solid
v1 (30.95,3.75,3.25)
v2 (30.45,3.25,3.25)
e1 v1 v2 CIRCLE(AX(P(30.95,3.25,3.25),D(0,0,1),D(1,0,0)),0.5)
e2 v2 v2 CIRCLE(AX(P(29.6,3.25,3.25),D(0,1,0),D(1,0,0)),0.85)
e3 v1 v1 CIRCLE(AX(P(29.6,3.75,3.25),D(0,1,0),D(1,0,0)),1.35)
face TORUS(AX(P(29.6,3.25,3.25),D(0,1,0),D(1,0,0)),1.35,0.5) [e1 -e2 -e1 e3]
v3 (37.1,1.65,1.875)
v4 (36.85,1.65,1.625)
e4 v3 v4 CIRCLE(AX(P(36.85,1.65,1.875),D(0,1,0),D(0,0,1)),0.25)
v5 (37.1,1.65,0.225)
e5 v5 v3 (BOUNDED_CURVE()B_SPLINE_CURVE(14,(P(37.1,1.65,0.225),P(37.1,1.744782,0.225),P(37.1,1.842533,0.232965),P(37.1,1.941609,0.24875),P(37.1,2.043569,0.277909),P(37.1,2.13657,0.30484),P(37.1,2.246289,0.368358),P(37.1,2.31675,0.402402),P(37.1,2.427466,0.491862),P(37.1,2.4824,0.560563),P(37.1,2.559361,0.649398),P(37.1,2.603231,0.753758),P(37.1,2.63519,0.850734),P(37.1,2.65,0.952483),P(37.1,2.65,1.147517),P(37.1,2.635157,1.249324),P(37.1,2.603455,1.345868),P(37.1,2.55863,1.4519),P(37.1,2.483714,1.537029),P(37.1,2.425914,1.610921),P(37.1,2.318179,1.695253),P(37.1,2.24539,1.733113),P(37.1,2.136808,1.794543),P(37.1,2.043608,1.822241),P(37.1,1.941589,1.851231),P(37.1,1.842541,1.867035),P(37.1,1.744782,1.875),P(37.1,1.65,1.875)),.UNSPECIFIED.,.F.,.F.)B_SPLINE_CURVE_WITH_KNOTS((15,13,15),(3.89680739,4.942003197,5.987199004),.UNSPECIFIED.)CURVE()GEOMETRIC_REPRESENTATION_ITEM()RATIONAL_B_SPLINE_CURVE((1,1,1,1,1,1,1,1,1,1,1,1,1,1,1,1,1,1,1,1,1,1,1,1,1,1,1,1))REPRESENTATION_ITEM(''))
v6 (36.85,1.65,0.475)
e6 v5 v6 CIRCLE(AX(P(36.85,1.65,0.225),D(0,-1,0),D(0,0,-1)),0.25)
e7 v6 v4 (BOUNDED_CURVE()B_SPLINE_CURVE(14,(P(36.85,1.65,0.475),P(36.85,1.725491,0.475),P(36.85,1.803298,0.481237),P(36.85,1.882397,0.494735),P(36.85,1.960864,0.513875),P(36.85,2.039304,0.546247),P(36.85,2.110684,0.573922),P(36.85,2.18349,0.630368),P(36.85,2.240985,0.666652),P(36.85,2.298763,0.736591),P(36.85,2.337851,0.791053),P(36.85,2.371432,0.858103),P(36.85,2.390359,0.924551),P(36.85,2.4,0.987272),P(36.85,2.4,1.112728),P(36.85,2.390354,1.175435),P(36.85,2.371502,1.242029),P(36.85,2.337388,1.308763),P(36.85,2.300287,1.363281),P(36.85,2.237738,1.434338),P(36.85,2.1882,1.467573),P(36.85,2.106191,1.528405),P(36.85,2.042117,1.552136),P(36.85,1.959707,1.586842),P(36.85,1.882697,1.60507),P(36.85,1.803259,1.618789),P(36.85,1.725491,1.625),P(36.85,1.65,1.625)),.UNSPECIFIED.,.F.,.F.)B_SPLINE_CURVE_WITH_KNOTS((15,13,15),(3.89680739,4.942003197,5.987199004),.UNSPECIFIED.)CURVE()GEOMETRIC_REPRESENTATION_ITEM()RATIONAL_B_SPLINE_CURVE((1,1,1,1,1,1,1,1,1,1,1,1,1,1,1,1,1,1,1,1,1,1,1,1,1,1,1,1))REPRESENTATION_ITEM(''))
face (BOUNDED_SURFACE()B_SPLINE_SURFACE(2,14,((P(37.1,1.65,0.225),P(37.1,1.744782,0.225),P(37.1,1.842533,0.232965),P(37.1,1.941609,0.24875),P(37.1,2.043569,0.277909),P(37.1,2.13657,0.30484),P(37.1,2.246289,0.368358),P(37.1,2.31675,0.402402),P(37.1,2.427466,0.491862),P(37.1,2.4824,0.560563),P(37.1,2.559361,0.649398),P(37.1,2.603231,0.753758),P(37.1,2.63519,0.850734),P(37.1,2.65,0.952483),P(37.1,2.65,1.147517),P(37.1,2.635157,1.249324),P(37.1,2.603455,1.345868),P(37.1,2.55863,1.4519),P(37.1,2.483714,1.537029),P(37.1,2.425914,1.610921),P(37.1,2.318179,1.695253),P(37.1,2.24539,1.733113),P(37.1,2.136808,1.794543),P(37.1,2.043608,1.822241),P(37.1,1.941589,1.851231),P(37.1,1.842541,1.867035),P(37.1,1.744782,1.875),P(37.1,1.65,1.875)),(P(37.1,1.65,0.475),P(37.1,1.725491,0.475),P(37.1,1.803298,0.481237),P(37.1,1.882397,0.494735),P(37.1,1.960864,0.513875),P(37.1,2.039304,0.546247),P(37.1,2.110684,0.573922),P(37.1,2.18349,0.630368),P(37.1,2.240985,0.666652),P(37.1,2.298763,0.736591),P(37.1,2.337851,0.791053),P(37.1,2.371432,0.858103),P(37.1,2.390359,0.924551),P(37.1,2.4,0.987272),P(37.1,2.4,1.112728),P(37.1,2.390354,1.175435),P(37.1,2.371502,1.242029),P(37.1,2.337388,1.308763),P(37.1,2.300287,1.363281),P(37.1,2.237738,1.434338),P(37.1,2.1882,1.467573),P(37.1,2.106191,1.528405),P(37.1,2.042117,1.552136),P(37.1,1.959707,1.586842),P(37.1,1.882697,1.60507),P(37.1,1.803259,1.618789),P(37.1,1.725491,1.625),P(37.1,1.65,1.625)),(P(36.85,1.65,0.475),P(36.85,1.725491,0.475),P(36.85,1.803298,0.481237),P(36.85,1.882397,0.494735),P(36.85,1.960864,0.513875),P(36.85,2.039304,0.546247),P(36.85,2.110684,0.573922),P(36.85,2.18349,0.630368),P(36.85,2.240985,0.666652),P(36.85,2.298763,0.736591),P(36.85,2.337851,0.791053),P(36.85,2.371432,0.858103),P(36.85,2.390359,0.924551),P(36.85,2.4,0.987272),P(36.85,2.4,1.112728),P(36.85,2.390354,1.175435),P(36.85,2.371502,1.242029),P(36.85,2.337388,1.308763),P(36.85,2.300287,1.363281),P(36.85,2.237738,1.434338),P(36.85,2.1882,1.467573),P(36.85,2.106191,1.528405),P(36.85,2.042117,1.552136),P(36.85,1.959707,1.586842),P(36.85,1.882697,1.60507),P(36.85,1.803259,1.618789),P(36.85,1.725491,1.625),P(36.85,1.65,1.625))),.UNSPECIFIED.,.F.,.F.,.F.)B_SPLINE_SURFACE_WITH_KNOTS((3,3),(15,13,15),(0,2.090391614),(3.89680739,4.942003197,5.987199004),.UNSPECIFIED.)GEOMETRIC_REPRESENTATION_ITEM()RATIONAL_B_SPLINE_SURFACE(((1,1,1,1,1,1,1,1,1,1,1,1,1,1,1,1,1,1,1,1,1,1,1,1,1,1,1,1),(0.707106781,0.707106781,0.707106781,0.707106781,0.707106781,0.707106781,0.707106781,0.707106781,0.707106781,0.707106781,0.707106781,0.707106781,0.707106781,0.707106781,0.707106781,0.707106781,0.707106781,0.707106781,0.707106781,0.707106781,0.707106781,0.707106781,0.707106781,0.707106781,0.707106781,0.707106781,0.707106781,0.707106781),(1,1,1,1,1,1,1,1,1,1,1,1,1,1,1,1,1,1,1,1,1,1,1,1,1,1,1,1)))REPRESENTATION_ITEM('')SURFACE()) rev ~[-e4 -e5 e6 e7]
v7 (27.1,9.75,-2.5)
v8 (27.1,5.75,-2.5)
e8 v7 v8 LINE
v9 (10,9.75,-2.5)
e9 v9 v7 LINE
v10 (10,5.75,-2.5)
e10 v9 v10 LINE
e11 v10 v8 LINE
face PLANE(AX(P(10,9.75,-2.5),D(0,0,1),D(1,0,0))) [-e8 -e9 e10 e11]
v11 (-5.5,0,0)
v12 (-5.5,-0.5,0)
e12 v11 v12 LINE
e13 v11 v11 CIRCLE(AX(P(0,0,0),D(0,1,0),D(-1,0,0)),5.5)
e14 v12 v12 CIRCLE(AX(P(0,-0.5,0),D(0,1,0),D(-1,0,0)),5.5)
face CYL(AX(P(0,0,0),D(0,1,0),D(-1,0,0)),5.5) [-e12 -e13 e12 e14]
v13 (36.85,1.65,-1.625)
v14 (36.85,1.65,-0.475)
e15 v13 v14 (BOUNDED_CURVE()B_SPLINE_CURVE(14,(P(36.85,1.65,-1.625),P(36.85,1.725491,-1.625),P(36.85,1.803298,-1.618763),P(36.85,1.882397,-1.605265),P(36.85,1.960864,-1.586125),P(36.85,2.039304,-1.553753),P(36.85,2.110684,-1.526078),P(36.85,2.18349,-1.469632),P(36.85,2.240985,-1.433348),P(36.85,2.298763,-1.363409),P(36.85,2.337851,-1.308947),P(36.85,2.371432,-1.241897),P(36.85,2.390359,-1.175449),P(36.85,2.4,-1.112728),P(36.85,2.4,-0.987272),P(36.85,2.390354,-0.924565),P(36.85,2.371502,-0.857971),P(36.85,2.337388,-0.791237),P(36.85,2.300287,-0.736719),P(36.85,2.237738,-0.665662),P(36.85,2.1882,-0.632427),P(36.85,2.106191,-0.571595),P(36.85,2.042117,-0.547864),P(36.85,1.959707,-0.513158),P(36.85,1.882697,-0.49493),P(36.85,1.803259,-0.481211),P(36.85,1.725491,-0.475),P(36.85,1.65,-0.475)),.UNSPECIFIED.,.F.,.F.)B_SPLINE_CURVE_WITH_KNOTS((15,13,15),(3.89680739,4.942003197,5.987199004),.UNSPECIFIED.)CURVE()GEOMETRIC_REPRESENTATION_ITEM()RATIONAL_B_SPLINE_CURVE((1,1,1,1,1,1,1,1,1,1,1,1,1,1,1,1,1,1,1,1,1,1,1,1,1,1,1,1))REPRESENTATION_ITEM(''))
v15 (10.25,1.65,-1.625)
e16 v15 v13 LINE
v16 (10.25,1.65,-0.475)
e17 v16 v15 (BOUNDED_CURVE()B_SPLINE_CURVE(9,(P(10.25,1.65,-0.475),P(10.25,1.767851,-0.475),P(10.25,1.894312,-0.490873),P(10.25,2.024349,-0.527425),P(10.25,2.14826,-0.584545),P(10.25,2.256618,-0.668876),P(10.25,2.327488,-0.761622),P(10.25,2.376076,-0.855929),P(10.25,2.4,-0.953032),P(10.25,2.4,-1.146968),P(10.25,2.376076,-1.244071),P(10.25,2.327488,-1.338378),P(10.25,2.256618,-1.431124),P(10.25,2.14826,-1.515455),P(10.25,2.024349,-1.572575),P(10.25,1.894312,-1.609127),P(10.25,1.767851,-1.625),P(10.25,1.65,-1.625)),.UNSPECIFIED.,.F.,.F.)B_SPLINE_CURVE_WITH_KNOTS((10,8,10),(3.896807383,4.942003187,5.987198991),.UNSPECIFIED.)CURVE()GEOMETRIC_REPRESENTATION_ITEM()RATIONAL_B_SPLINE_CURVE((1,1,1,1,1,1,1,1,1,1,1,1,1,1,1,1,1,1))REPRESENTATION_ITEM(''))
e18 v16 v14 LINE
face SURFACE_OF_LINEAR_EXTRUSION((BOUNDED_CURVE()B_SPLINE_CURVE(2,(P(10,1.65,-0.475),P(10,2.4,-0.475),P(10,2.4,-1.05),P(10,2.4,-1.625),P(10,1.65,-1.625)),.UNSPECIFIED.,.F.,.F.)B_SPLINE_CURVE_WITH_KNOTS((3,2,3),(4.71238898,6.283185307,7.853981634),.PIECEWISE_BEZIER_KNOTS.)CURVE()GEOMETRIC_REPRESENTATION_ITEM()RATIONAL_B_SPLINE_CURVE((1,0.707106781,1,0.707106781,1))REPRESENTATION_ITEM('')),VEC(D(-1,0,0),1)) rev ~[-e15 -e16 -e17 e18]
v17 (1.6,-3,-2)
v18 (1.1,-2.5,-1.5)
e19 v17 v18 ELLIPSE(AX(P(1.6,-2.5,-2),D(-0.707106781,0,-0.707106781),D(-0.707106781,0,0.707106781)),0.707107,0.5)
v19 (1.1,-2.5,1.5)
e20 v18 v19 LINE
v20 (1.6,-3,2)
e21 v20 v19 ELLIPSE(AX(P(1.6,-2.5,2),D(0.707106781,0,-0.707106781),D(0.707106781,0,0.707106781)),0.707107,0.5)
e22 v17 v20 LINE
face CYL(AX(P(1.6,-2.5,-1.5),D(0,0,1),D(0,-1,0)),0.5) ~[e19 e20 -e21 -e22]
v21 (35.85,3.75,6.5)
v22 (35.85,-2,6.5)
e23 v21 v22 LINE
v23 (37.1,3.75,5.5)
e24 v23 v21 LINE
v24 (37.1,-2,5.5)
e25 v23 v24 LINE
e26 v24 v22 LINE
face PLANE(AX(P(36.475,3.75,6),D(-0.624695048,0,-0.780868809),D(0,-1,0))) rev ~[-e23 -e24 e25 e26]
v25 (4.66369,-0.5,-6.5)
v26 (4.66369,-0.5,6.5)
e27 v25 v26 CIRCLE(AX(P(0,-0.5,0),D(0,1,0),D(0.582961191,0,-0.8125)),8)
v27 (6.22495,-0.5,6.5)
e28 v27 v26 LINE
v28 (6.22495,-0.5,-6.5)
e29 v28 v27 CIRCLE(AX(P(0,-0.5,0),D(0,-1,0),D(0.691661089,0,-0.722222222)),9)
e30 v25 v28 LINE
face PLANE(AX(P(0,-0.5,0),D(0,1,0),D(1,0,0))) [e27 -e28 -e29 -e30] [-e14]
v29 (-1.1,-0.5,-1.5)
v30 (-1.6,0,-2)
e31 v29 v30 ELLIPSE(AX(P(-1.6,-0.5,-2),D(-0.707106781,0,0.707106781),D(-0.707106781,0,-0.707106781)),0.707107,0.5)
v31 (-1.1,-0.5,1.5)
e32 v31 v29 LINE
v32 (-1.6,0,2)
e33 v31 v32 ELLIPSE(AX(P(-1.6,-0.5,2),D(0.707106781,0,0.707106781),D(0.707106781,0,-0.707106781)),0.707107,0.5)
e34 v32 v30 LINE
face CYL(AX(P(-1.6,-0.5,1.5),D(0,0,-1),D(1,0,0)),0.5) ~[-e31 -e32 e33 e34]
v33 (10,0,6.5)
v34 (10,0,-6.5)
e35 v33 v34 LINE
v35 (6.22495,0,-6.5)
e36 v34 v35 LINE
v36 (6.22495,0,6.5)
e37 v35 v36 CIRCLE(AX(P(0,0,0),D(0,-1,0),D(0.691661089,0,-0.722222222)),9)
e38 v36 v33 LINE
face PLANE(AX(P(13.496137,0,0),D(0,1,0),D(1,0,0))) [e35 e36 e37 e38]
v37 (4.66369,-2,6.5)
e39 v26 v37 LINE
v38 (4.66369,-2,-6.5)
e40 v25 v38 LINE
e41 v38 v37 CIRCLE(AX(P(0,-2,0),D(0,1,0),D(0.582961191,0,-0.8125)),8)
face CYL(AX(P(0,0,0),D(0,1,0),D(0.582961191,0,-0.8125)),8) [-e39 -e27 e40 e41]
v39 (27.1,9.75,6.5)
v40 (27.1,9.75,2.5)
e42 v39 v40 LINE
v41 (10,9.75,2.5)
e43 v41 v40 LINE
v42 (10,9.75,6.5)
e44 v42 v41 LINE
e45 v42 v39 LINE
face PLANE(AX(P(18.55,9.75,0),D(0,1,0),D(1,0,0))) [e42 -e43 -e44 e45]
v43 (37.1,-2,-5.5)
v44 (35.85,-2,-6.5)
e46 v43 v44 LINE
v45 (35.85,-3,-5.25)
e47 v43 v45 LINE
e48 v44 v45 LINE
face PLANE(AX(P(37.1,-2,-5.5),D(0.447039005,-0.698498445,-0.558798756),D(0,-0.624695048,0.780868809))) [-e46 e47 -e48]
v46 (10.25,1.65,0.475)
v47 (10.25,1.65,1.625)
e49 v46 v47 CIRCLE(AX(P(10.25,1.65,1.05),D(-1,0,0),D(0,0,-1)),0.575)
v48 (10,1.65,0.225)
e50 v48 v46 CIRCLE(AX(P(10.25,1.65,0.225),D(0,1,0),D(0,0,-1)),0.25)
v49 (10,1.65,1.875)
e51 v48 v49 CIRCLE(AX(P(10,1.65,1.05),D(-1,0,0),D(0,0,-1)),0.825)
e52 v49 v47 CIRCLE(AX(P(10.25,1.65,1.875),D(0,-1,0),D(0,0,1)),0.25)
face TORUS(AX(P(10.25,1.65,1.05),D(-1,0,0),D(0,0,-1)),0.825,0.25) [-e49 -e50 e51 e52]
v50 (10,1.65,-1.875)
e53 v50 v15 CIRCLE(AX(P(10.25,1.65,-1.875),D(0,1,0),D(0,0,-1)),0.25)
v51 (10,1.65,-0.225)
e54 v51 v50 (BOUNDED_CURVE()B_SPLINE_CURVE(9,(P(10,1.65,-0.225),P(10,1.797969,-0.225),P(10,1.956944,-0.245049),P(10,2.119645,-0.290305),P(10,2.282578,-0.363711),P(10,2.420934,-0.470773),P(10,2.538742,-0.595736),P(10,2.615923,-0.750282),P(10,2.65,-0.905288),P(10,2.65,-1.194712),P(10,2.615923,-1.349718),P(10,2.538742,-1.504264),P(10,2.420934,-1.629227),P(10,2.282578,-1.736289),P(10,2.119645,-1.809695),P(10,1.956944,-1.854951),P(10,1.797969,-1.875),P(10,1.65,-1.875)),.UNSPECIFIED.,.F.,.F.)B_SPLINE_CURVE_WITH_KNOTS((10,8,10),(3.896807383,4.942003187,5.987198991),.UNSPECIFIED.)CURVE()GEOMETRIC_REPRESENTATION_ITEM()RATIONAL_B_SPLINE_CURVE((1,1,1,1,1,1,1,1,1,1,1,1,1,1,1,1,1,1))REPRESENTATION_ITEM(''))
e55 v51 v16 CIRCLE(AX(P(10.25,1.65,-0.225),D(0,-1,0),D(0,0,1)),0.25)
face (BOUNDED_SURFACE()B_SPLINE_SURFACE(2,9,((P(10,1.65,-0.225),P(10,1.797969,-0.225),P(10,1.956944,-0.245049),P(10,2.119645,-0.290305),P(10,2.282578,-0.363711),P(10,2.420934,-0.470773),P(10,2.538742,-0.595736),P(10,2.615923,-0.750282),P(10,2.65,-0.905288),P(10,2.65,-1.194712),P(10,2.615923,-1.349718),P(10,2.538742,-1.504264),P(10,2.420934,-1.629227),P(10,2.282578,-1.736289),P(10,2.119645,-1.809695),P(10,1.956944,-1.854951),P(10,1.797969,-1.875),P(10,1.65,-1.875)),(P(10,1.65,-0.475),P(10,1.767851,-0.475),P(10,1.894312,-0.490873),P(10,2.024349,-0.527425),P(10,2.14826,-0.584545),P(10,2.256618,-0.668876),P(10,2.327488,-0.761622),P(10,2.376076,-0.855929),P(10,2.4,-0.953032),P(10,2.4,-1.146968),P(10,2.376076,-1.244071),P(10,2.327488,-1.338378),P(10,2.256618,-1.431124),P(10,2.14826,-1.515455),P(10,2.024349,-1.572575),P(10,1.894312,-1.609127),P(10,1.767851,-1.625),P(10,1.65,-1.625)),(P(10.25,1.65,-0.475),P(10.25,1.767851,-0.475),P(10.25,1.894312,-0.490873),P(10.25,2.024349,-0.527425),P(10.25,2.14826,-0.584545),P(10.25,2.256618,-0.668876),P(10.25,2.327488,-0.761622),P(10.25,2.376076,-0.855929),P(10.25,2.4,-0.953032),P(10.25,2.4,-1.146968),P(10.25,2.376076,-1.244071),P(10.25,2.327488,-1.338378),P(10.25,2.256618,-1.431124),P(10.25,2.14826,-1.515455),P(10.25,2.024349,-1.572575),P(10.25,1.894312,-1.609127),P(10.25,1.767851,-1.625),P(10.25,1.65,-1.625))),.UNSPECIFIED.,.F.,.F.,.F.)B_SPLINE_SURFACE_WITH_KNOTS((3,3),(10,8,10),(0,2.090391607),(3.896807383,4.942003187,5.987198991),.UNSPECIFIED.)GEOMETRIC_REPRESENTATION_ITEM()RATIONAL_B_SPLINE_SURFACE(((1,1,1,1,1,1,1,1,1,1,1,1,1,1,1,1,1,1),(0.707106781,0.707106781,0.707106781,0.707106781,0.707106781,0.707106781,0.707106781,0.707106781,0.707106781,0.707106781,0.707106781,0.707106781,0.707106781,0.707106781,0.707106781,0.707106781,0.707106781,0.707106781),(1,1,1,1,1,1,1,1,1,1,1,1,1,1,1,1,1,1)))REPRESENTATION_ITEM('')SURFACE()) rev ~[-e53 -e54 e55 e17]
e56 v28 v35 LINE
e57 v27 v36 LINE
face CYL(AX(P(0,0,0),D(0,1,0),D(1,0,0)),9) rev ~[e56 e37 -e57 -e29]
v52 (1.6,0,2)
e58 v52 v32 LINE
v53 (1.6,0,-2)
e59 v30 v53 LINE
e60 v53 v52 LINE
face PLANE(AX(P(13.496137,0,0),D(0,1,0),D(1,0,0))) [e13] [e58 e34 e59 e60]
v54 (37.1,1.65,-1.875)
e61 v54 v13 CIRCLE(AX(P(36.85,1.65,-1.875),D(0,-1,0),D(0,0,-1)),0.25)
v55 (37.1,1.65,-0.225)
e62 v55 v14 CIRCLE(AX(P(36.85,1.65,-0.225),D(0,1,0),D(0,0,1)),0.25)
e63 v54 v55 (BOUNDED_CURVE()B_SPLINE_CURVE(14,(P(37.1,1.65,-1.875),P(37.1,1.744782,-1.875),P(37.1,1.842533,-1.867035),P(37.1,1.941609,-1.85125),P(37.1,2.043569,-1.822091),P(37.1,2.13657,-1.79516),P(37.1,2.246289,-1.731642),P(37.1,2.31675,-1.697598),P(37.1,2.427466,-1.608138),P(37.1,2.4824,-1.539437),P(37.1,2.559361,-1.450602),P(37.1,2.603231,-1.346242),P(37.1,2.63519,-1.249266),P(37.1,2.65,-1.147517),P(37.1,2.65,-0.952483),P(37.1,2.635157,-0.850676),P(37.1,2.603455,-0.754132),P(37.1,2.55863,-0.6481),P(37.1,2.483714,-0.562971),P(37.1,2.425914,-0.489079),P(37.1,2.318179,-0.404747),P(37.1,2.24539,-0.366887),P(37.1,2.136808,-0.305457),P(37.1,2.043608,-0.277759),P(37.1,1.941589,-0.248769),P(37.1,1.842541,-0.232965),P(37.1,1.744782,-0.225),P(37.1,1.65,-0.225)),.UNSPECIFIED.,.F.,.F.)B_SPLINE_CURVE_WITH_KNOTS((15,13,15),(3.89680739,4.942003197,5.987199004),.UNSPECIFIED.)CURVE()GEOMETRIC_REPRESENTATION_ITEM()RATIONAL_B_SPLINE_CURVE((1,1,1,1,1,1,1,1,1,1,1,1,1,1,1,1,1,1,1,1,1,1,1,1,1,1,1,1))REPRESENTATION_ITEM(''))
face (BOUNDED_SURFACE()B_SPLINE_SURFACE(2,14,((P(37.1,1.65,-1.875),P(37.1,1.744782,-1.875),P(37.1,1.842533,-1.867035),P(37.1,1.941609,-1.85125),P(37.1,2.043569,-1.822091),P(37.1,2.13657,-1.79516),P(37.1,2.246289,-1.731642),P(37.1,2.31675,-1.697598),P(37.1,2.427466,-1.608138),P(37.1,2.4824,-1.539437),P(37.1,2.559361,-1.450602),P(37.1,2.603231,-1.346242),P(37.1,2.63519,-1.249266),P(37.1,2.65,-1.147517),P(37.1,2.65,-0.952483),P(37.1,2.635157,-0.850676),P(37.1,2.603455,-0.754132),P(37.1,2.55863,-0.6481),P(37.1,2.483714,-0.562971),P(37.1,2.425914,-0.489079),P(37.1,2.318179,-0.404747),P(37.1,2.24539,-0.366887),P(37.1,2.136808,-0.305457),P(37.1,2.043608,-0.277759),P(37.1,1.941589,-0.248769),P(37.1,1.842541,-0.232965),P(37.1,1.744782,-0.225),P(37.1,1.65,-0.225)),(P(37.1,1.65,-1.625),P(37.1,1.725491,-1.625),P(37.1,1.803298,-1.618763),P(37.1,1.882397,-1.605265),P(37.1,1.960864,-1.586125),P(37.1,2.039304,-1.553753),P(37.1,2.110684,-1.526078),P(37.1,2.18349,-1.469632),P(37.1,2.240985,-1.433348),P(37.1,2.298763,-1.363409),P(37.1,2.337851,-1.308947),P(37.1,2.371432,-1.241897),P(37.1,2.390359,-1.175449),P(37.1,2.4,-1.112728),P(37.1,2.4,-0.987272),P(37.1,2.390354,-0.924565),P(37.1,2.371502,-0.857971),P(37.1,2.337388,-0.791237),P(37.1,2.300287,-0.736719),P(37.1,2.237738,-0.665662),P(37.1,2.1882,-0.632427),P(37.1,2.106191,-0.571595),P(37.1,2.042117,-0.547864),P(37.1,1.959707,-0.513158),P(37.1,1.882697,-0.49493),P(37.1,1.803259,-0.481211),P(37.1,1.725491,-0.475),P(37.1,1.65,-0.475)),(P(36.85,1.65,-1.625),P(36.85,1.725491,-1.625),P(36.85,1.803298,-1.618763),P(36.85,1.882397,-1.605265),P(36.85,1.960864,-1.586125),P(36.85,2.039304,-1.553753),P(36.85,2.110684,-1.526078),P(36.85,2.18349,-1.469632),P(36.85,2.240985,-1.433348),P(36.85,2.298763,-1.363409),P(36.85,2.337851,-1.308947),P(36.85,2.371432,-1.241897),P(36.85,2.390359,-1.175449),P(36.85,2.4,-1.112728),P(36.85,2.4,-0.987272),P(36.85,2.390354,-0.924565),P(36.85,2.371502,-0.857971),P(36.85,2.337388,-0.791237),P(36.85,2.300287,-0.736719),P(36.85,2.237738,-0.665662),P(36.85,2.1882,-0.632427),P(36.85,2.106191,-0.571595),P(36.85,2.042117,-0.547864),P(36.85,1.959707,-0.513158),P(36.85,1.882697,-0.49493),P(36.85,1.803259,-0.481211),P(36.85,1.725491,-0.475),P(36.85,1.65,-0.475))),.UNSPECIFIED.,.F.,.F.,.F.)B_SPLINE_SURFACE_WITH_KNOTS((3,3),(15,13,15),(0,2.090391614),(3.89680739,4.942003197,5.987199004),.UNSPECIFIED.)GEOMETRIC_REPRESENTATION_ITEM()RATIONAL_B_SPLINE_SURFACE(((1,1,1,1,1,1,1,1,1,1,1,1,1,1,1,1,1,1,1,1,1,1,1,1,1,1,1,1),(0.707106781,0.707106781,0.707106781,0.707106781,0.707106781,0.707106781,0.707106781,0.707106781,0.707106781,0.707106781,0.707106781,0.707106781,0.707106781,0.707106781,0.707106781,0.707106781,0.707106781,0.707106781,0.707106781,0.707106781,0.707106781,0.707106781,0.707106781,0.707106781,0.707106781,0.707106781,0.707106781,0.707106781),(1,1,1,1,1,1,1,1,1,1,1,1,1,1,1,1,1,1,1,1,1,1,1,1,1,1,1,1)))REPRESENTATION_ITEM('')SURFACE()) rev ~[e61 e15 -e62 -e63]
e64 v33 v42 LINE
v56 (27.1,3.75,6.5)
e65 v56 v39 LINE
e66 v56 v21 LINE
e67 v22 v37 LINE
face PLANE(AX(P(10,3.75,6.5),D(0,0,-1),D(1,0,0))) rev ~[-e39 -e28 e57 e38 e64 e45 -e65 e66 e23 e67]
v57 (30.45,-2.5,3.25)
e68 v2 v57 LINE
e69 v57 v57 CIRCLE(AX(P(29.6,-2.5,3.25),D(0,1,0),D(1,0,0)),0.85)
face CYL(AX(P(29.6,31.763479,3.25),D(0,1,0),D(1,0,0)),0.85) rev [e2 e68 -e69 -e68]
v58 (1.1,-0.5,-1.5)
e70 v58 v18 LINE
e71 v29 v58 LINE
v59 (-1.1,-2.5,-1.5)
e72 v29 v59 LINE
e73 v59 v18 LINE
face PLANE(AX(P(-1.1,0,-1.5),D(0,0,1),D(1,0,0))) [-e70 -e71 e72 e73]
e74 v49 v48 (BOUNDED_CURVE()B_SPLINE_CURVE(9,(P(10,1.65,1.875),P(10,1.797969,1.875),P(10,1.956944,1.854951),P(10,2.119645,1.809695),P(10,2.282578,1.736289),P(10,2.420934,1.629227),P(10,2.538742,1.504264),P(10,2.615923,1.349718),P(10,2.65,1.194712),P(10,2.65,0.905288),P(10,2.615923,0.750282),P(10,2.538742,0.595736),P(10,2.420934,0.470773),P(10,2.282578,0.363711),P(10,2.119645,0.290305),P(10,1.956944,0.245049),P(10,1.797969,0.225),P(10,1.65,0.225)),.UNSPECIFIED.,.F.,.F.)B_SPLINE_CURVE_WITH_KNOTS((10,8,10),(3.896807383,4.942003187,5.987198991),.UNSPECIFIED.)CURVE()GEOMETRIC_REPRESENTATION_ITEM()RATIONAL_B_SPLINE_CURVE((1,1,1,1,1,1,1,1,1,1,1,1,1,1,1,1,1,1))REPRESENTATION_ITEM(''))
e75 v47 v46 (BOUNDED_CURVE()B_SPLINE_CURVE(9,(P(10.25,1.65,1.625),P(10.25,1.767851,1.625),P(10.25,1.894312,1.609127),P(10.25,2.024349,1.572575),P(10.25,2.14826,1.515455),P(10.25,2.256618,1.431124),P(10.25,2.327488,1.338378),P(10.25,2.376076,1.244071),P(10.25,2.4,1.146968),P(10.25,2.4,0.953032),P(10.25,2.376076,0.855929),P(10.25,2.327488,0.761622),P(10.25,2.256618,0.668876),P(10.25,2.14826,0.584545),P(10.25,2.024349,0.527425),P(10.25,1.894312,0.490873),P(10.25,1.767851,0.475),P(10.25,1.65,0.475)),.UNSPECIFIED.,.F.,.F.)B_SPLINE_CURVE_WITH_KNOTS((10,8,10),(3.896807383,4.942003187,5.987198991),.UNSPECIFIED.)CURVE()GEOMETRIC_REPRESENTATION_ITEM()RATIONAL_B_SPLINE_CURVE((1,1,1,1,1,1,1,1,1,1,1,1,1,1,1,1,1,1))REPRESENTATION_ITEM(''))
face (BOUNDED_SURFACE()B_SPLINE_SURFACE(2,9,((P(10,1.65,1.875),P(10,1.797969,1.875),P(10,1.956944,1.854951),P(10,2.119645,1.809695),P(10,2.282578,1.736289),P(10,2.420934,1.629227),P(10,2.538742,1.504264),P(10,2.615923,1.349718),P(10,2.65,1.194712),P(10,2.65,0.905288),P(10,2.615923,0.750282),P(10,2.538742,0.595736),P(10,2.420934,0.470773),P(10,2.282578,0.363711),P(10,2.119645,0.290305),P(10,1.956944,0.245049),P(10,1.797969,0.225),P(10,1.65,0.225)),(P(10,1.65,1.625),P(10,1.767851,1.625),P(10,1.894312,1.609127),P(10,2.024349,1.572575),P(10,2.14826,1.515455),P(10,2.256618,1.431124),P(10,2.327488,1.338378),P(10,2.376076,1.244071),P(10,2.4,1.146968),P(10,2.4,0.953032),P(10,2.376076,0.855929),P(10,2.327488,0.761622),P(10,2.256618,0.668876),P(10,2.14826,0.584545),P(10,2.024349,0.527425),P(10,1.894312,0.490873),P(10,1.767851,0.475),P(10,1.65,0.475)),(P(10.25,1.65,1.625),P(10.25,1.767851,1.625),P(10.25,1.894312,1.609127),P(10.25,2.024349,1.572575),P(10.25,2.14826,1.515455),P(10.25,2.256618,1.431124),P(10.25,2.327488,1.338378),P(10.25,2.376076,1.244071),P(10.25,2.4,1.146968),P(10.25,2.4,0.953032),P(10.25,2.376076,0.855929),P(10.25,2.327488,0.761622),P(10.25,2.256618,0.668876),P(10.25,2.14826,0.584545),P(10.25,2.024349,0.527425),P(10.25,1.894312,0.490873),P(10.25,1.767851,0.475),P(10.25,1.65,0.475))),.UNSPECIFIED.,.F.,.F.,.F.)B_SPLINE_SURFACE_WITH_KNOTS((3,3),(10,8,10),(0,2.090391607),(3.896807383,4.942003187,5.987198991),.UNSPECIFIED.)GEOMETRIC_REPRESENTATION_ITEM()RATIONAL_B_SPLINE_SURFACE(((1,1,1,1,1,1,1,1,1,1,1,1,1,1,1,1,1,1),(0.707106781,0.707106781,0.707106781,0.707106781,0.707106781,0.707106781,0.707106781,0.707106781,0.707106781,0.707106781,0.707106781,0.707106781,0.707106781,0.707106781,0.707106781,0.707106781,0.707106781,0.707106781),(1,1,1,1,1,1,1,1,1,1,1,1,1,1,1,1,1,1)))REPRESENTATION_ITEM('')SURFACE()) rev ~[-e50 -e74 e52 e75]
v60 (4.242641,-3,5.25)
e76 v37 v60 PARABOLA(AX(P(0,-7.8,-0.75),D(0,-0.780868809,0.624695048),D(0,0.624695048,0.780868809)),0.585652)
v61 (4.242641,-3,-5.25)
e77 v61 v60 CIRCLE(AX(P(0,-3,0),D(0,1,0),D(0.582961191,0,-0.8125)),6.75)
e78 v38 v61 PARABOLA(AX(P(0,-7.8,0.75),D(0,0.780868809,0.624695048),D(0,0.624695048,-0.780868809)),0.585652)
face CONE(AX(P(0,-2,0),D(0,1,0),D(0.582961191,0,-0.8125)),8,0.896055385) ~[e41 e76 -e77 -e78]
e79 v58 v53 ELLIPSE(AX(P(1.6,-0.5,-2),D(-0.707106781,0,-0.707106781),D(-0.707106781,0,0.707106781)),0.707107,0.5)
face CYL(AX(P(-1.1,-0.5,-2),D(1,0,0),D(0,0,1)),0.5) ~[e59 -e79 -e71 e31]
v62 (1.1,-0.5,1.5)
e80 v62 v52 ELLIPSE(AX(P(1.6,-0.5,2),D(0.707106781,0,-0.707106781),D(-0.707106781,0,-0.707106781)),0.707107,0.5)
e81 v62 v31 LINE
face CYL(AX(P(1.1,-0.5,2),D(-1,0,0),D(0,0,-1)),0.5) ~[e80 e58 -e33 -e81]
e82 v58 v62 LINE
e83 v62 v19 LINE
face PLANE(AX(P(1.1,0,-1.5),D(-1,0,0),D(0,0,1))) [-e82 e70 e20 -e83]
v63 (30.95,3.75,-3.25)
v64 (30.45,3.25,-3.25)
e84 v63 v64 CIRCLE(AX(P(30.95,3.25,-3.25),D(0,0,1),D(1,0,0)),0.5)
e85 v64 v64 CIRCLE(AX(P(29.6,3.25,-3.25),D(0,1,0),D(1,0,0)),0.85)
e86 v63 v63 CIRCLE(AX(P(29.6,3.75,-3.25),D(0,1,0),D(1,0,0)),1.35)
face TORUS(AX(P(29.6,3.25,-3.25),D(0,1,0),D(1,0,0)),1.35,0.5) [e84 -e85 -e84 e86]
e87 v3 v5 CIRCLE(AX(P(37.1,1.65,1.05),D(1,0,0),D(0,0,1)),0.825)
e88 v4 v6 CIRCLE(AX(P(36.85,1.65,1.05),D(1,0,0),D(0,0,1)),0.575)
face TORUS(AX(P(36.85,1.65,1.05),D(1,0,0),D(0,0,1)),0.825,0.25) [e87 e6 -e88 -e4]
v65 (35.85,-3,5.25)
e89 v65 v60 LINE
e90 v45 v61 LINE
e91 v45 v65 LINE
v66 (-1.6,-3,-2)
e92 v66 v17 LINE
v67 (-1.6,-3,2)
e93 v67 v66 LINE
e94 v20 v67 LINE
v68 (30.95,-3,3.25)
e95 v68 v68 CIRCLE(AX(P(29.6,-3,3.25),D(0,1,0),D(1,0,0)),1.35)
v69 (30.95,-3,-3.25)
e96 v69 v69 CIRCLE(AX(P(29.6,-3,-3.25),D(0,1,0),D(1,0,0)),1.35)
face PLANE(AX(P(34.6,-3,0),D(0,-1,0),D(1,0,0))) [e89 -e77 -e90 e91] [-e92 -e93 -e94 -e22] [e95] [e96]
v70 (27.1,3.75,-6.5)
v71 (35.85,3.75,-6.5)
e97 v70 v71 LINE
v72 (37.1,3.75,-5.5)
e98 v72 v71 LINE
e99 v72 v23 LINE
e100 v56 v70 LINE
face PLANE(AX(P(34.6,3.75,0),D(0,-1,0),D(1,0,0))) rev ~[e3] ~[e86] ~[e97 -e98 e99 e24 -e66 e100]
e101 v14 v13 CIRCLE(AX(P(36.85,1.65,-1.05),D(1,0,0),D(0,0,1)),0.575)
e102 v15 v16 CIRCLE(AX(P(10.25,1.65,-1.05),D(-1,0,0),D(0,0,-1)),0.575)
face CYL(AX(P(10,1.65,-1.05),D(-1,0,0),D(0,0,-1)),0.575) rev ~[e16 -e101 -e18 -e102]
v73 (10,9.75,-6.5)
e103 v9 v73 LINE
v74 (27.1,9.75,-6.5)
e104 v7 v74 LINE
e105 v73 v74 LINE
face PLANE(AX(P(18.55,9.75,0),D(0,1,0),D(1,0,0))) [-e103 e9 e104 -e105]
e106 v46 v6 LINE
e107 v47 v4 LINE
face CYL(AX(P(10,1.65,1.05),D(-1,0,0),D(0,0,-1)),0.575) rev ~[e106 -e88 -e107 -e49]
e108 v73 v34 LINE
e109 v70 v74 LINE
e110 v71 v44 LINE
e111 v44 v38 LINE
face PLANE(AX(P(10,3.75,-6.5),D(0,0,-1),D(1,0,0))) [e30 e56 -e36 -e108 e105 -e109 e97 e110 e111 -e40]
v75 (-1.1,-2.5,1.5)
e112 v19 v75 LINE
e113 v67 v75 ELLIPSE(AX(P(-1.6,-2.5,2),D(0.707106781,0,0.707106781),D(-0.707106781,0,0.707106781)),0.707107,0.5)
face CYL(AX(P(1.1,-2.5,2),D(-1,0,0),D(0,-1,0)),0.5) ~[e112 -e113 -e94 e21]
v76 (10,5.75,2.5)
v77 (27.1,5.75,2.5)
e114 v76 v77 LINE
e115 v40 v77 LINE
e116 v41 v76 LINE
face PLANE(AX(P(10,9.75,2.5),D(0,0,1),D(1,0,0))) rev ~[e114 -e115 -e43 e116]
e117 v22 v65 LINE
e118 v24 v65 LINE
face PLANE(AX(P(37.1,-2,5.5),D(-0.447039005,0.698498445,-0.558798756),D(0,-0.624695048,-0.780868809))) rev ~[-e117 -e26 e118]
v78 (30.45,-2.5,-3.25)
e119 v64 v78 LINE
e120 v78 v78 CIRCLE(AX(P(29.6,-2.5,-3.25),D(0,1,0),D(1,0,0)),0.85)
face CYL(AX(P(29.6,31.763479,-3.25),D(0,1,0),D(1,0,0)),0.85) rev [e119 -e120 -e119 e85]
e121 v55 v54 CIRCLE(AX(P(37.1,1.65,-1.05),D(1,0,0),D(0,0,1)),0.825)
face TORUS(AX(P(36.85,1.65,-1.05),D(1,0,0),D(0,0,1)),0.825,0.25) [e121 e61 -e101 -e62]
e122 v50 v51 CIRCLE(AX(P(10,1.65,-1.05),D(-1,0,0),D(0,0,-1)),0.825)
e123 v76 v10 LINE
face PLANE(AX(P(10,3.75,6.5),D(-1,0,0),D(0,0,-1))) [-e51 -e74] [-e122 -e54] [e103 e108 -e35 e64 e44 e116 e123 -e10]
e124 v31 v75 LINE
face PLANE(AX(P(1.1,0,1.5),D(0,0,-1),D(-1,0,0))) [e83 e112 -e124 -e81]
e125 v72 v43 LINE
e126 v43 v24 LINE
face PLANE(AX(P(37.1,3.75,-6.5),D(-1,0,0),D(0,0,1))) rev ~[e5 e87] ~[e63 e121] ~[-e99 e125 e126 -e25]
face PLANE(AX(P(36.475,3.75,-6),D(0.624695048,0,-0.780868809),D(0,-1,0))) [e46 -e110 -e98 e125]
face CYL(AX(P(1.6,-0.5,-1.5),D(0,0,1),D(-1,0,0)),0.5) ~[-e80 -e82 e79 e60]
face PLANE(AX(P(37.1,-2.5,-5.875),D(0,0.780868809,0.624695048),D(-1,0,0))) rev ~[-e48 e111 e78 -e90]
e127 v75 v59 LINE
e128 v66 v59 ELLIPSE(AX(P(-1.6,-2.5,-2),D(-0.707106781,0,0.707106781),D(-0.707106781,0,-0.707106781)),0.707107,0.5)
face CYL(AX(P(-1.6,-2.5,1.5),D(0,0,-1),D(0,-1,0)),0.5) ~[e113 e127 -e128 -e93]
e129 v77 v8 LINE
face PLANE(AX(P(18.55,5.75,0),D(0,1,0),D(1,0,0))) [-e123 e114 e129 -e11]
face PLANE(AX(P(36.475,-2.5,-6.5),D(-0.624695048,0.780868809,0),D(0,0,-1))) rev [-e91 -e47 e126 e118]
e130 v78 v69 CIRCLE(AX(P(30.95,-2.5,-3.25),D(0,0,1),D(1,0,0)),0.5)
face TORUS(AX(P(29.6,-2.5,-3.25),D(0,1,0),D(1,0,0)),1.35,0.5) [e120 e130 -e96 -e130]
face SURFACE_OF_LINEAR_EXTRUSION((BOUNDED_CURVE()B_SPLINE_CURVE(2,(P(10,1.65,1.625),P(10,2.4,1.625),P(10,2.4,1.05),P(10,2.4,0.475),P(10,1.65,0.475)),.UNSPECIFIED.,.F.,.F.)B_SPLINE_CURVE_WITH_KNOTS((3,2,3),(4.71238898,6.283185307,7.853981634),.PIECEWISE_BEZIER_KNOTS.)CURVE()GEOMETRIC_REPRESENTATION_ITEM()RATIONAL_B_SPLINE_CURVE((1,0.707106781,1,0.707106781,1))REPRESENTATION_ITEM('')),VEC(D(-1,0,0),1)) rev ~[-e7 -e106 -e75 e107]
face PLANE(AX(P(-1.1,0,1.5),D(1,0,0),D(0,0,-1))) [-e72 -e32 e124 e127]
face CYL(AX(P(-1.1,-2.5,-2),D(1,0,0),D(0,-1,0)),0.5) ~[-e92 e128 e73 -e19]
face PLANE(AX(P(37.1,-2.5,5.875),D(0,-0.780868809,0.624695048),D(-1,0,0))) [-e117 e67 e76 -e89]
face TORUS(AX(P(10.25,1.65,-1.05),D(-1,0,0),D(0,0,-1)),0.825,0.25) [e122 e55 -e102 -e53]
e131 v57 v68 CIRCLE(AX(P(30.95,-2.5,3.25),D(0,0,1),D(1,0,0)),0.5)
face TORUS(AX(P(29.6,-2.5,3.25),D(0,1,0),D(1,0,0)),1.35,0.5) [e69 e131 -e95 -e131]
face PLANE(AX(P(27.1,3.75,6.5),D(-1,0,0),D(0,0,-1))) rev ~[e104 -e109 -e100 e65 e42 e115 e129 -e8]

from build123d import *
from OCP.BRepFilletAPI import BRepFilletAPI_MakeChamfer

# Parameters (mm, degrees)
BOSS_EXTRUDE1_DEPTH     = 3
SKETCH2_R               = 9
SKETCH2_R_2             = 5.5
CUT_EXTRUDE1_DEPTH      = 0.5
SKETCH3_W               = 22.1
SKETCH3_H               = 13
BOSS_EXTRUDE2_DEPTH     = 3.75
CUT_EXTRUDE2_DEPTH      = 34.76347879
CUT_EXTRUDE2_DEPTH_BACK = 34.76347879
SKETCH4_R               = 0.85
BOSS_EXTRUDE3_START     = -6.75
SKETCH5_W               = 5
SKETCH5_H               = 13
BOSS_EXTRUDE3_DEPTH     = 6.75
CHAMFER1_SIZE           = 1
CHAMFER1_SIZE2          = 1.25
FILLET1_R               = 0.5
CUT_EXTRUDE3_DEPTH      = 29.503903241
FILLET2_R               = 0.25
SKETCH7_W               = 17.1
SKETCH7_H               = 13
BOSS_EXTRUDE4_DEPTH     = 6
SKETCH8_W               = 17.1
SKETCH8_H               = 5
CUT_EXTRUDE4_DEPTH      = 4


with BuildPart() as part:
    # Sketch1 → Boss-Extrude1 (new body)
    with BuildSketch(Plane(origin=(0, 0, 0), x_dir=(1, 0, 0), z_dir=(0, 1, 0))):
        with BuildLine():
            Line((32.1, 6.5), (4.663689527, 6.5))
            ThreePointArc((4.663689527, 6.5), (-8, 0), (4.663689527, -6.5))
            Line((4.663689527, -6.5), (32.1, -6.5))
            Line((32.1, -6.5), (32.1, 6.5))
        make_face()
        Polygon((-1.1, -1.019803903), (-1.1, 1.019803903), (-1.1, 1.5), (1.1, 1.5), (1.1, 1.019803903), (1.1, -1.019803903), (1.1, -1.5), (-1.1, -1.5), align=None, mode=Mode.SUBTRACT)
    extrude(amount=-BOSS_EXTRUDE1_DEPTH)

    # Sketch2 → Cut-Extrude1 (cut)
    with BuildSketch(Plane(origin=(0, 0, 0), x_dir=(1, 0, 0), z_dir=(0, 1, 0))):
        Circle(SKETCH2_R)
        with Locations(Location((0, 0, 0), (0, 0, 180))):
            Circle(SKETCH2_R_2, mode=Mode.SUBTRACT)
    extrude(amount=-CUT_EXTRUDE1_DEPTH, mode=Mode.SUBTRACT)

    # Sketch3 → Boss-Extrude2 (add)
    with BuildSketch(Plane(origin=(0, 0, 0), x_dir=(1, 0, 0), z_dir=(0, 1, 0))):
        with Locations((21.05, 0)):
            Rectangle(SKETCH3_W, SKETCH3_H)
    extrude(amount=BOSS_EXTRUDE2_DEPTH)

    # Sketch4 → Cut-Extrude2 (cut, two sides: drawn at the far end of the back side and taken through both)
    with BuildSketch(Plane.XZ.offset(3).offset(-CUT_EXTRUDE2_DEPTH_BACK)):
        with Locations((29.6, 3.25)):
            Circle(SKETCH4_R)
        with Locations((29.6, -3.25)):
            Circle(SKETCH4_R)
    extrude(amount=CUT_EXTRUDE2_DEPTH + CUT_EXTRUDE2_DEPTH_BACK, mode=Mode.SUBTRACT)

    # Sketch5 → Boss-Extrude3 (add)
    with BuildSketch(Plane.XZ.offset(3).offset(BOSS_EXTRUDE3_START)):
        with Locations((34.6, 0)):
            Rectangle(SKETCH5_W, SKETCH5_H)
    extrude(amount=BOSS_EXTRUDE3_DEPTH)

    # Chamfer1: one chamfer whose edges measure the first distance from different faces: ONE call of the kernel's chamfer builder (chamfer() names one face for all edges)
    chamfer1_edges_1 = [part.edges().sort_by_distance(p)[0] for p in [
        (20.881844763, -3, -6.5),
    ]]
    chamfer1_side_1 = [part.faces().sort_by_distance(p)[0] for p in [
        (22.311052712, 0.22597976, -6.5),
    ]]
    chamfer1_edges_2 = [part.edges().sort_by_distance(p)[0] for p in [
        (-8, -3, 0),
    ]]
    chamfer1_side_2 = [part.faces().sort_by_distance(p)[0] for p in [
        (-8, -1.75, 0),
    ]]
    chamfer1_edges_3 = [part.edges().sort_by_distance(p)[0] for p in [
        (20.881844763, -3, 6.5),
    ]]
    chamfer1_side_3 = [part.faces().sort_by_distance(p)[0] for p in [
        (22.311052712, 0.22597976, 6.5),
    ]]
    chamfer1_edges_4 = [part.edges().sort_by_distance(p)[0] for p in [
        (37.1, 0.375, 6.5),
        (37.1, 0.375, -6.5),
        (37.1, -3, 0),
    ]]
    chamfer1_side_4 = [part.faces().sort_by_distance(p)[0] for p in [
        (37.1, 0.375, 0),
    ]]
    chamfer1 = BRepFilletAPI_MakeChamfer(part.part.solid().wrapped)
    for e in chamfer1_edges_1:
        chamfer1.Add(CHAMFER1_SIZE, CHAMFER1_SIZE2, e.wrapped, chamfer1_side_1[0].wrapped)  # the first distance lies on this face
    for e in chamfer1_edges_2:
        chamfer1.Add(CHAMFER1_SIZE, CHAMFER1_SIZE2, e.wrapped, chamfer1_side_2[0].wrapped)  # the first distance lies on this face
    for e in chamfer1_edges_3:
        chamfer1.Add(CHAMFER1_SIZE, CHAMFER1_SIZE2, e.wrapped, chamfer1_side_3[0].wrapped)  # the first distance lies on this face
    for e in chamfer1_edges_4:
        chamfer1.Add(CHAMFER1_SIZE, CHAMFER1_SIZE2, e.wrapped, chamfer1_side_4[0].wrapped)  # the first distance lies on this face
    add(Compound.cast(chamfer1.Shape()), mode=Mode.REPLACE)

    # Fillet1
    fillet1_edges = [part.edges().sort_by_distance(p)[0] for p in [
        (1.1, -3, 0),
        (-1.1, 0, 0),
        (0, 0, 1.5),
        (1.1, 0, 0),
        (0, 0, -1.5),
        (0, -3, 1.5),
        (-1.1, -3, 0),
        (28.75, 3.75, 3.25),
        (28.75, -3, 3.25),
        (28.75, 3.75, -3.25),
        (28.75, -3, -3.25),
        (0, -3, -1.5),
    ]]
    fillet(fillet1_edges, radius=FILLET1_R)

    # Sketch6 → Cut-Extrude3 (cut, through all)
    with BuildSketch(Plane.ZY.offset(-10)):
        with BuildLine():
            ThreePointArc((0.475, 1.65), (1.05, 1.075), (1.625, 1.65))
            add(Edge.make_bspline(
                [(1.625, 1.65), (1.625, 2.4), (1.05, 2.4), (0.475, 2.4), (0.475, 1.65)],
                knots=[4.71238898, 4.71238898, 4.71238898, 6.283185307, 6.283185307, 7.853981634, 7.853981634, 7.853981634], degree=2, weights=[1, 0.707106781, 1, 0.707106781, 1]))
        make_face()
        with BuildLine():
            ThreePointArc((-1.625, 1.65), (-1.05, 1.075), (-0.475, 1.65))
            add(Edge.make_bspline(
                [(-0.475, 1.65), (-0.475, 2.4), (-1.05, 2.4), (-1.625, 2.4), (-1.625, 1.65)],
                knots=[4.71238898, 4.71238898, 4.71238898, 6.283185307, 6.283185307, 7.853981634, 7.853981634, 7.853981634], degree=2, weights=[1, 0.707106781, 1, 0.707106781, 1]))
        make_face()
    extrude(amount=-CUT_EXTRUDE3_DEPTH, mode=Mode.SUBTRACT)

    # Fillet2
    fillet2_edges = [part.edges().sort_by_distance(p)[0] for p in [
        (37.1, 2.4, -1.05),
        (37.1, 1.075, -1.05),
        (10, 2.4, -1.05),
        (10, 1.075, -1.05),
        (37.1, 2.4, 1.05),
        (37.1, 1.075, 1.05),
        (10, 2.4, 1.05),
        (10, 1.075, 1.05),
    ]]
    fillet(fillet2_edges, radius=FILLET2_R)

    # Sketch7 → Boss-Extrude4 (add)
    with BuildSketch(Plane(origin=(0, 3.75, 0), x_dir=(1, 0, 0), z_dir=(0, 1, 0))):
        with Locations((18.55, 0)):
            Rectangle(SKETCH7_W, SKETCH7_H)
    extrude(amount=BOSS_EXTRUDE4_DEPTH)

    # Sketch8 → Cut-Extrude4 (cut)
    with BuildSketch(Plane(origin=(0, 9.75, 0), x_dir=(1, 0, 0), z_dir=(0, 1, 0))):
        with Locations((18.55, 0)):
            Rectangle(SKETCH8_W, SKETCH8_H)
    extrude(amount=-CUT_EXTRUDE4_DEPTH, mode=Mode.SUBTRACT)


solid = part.part
